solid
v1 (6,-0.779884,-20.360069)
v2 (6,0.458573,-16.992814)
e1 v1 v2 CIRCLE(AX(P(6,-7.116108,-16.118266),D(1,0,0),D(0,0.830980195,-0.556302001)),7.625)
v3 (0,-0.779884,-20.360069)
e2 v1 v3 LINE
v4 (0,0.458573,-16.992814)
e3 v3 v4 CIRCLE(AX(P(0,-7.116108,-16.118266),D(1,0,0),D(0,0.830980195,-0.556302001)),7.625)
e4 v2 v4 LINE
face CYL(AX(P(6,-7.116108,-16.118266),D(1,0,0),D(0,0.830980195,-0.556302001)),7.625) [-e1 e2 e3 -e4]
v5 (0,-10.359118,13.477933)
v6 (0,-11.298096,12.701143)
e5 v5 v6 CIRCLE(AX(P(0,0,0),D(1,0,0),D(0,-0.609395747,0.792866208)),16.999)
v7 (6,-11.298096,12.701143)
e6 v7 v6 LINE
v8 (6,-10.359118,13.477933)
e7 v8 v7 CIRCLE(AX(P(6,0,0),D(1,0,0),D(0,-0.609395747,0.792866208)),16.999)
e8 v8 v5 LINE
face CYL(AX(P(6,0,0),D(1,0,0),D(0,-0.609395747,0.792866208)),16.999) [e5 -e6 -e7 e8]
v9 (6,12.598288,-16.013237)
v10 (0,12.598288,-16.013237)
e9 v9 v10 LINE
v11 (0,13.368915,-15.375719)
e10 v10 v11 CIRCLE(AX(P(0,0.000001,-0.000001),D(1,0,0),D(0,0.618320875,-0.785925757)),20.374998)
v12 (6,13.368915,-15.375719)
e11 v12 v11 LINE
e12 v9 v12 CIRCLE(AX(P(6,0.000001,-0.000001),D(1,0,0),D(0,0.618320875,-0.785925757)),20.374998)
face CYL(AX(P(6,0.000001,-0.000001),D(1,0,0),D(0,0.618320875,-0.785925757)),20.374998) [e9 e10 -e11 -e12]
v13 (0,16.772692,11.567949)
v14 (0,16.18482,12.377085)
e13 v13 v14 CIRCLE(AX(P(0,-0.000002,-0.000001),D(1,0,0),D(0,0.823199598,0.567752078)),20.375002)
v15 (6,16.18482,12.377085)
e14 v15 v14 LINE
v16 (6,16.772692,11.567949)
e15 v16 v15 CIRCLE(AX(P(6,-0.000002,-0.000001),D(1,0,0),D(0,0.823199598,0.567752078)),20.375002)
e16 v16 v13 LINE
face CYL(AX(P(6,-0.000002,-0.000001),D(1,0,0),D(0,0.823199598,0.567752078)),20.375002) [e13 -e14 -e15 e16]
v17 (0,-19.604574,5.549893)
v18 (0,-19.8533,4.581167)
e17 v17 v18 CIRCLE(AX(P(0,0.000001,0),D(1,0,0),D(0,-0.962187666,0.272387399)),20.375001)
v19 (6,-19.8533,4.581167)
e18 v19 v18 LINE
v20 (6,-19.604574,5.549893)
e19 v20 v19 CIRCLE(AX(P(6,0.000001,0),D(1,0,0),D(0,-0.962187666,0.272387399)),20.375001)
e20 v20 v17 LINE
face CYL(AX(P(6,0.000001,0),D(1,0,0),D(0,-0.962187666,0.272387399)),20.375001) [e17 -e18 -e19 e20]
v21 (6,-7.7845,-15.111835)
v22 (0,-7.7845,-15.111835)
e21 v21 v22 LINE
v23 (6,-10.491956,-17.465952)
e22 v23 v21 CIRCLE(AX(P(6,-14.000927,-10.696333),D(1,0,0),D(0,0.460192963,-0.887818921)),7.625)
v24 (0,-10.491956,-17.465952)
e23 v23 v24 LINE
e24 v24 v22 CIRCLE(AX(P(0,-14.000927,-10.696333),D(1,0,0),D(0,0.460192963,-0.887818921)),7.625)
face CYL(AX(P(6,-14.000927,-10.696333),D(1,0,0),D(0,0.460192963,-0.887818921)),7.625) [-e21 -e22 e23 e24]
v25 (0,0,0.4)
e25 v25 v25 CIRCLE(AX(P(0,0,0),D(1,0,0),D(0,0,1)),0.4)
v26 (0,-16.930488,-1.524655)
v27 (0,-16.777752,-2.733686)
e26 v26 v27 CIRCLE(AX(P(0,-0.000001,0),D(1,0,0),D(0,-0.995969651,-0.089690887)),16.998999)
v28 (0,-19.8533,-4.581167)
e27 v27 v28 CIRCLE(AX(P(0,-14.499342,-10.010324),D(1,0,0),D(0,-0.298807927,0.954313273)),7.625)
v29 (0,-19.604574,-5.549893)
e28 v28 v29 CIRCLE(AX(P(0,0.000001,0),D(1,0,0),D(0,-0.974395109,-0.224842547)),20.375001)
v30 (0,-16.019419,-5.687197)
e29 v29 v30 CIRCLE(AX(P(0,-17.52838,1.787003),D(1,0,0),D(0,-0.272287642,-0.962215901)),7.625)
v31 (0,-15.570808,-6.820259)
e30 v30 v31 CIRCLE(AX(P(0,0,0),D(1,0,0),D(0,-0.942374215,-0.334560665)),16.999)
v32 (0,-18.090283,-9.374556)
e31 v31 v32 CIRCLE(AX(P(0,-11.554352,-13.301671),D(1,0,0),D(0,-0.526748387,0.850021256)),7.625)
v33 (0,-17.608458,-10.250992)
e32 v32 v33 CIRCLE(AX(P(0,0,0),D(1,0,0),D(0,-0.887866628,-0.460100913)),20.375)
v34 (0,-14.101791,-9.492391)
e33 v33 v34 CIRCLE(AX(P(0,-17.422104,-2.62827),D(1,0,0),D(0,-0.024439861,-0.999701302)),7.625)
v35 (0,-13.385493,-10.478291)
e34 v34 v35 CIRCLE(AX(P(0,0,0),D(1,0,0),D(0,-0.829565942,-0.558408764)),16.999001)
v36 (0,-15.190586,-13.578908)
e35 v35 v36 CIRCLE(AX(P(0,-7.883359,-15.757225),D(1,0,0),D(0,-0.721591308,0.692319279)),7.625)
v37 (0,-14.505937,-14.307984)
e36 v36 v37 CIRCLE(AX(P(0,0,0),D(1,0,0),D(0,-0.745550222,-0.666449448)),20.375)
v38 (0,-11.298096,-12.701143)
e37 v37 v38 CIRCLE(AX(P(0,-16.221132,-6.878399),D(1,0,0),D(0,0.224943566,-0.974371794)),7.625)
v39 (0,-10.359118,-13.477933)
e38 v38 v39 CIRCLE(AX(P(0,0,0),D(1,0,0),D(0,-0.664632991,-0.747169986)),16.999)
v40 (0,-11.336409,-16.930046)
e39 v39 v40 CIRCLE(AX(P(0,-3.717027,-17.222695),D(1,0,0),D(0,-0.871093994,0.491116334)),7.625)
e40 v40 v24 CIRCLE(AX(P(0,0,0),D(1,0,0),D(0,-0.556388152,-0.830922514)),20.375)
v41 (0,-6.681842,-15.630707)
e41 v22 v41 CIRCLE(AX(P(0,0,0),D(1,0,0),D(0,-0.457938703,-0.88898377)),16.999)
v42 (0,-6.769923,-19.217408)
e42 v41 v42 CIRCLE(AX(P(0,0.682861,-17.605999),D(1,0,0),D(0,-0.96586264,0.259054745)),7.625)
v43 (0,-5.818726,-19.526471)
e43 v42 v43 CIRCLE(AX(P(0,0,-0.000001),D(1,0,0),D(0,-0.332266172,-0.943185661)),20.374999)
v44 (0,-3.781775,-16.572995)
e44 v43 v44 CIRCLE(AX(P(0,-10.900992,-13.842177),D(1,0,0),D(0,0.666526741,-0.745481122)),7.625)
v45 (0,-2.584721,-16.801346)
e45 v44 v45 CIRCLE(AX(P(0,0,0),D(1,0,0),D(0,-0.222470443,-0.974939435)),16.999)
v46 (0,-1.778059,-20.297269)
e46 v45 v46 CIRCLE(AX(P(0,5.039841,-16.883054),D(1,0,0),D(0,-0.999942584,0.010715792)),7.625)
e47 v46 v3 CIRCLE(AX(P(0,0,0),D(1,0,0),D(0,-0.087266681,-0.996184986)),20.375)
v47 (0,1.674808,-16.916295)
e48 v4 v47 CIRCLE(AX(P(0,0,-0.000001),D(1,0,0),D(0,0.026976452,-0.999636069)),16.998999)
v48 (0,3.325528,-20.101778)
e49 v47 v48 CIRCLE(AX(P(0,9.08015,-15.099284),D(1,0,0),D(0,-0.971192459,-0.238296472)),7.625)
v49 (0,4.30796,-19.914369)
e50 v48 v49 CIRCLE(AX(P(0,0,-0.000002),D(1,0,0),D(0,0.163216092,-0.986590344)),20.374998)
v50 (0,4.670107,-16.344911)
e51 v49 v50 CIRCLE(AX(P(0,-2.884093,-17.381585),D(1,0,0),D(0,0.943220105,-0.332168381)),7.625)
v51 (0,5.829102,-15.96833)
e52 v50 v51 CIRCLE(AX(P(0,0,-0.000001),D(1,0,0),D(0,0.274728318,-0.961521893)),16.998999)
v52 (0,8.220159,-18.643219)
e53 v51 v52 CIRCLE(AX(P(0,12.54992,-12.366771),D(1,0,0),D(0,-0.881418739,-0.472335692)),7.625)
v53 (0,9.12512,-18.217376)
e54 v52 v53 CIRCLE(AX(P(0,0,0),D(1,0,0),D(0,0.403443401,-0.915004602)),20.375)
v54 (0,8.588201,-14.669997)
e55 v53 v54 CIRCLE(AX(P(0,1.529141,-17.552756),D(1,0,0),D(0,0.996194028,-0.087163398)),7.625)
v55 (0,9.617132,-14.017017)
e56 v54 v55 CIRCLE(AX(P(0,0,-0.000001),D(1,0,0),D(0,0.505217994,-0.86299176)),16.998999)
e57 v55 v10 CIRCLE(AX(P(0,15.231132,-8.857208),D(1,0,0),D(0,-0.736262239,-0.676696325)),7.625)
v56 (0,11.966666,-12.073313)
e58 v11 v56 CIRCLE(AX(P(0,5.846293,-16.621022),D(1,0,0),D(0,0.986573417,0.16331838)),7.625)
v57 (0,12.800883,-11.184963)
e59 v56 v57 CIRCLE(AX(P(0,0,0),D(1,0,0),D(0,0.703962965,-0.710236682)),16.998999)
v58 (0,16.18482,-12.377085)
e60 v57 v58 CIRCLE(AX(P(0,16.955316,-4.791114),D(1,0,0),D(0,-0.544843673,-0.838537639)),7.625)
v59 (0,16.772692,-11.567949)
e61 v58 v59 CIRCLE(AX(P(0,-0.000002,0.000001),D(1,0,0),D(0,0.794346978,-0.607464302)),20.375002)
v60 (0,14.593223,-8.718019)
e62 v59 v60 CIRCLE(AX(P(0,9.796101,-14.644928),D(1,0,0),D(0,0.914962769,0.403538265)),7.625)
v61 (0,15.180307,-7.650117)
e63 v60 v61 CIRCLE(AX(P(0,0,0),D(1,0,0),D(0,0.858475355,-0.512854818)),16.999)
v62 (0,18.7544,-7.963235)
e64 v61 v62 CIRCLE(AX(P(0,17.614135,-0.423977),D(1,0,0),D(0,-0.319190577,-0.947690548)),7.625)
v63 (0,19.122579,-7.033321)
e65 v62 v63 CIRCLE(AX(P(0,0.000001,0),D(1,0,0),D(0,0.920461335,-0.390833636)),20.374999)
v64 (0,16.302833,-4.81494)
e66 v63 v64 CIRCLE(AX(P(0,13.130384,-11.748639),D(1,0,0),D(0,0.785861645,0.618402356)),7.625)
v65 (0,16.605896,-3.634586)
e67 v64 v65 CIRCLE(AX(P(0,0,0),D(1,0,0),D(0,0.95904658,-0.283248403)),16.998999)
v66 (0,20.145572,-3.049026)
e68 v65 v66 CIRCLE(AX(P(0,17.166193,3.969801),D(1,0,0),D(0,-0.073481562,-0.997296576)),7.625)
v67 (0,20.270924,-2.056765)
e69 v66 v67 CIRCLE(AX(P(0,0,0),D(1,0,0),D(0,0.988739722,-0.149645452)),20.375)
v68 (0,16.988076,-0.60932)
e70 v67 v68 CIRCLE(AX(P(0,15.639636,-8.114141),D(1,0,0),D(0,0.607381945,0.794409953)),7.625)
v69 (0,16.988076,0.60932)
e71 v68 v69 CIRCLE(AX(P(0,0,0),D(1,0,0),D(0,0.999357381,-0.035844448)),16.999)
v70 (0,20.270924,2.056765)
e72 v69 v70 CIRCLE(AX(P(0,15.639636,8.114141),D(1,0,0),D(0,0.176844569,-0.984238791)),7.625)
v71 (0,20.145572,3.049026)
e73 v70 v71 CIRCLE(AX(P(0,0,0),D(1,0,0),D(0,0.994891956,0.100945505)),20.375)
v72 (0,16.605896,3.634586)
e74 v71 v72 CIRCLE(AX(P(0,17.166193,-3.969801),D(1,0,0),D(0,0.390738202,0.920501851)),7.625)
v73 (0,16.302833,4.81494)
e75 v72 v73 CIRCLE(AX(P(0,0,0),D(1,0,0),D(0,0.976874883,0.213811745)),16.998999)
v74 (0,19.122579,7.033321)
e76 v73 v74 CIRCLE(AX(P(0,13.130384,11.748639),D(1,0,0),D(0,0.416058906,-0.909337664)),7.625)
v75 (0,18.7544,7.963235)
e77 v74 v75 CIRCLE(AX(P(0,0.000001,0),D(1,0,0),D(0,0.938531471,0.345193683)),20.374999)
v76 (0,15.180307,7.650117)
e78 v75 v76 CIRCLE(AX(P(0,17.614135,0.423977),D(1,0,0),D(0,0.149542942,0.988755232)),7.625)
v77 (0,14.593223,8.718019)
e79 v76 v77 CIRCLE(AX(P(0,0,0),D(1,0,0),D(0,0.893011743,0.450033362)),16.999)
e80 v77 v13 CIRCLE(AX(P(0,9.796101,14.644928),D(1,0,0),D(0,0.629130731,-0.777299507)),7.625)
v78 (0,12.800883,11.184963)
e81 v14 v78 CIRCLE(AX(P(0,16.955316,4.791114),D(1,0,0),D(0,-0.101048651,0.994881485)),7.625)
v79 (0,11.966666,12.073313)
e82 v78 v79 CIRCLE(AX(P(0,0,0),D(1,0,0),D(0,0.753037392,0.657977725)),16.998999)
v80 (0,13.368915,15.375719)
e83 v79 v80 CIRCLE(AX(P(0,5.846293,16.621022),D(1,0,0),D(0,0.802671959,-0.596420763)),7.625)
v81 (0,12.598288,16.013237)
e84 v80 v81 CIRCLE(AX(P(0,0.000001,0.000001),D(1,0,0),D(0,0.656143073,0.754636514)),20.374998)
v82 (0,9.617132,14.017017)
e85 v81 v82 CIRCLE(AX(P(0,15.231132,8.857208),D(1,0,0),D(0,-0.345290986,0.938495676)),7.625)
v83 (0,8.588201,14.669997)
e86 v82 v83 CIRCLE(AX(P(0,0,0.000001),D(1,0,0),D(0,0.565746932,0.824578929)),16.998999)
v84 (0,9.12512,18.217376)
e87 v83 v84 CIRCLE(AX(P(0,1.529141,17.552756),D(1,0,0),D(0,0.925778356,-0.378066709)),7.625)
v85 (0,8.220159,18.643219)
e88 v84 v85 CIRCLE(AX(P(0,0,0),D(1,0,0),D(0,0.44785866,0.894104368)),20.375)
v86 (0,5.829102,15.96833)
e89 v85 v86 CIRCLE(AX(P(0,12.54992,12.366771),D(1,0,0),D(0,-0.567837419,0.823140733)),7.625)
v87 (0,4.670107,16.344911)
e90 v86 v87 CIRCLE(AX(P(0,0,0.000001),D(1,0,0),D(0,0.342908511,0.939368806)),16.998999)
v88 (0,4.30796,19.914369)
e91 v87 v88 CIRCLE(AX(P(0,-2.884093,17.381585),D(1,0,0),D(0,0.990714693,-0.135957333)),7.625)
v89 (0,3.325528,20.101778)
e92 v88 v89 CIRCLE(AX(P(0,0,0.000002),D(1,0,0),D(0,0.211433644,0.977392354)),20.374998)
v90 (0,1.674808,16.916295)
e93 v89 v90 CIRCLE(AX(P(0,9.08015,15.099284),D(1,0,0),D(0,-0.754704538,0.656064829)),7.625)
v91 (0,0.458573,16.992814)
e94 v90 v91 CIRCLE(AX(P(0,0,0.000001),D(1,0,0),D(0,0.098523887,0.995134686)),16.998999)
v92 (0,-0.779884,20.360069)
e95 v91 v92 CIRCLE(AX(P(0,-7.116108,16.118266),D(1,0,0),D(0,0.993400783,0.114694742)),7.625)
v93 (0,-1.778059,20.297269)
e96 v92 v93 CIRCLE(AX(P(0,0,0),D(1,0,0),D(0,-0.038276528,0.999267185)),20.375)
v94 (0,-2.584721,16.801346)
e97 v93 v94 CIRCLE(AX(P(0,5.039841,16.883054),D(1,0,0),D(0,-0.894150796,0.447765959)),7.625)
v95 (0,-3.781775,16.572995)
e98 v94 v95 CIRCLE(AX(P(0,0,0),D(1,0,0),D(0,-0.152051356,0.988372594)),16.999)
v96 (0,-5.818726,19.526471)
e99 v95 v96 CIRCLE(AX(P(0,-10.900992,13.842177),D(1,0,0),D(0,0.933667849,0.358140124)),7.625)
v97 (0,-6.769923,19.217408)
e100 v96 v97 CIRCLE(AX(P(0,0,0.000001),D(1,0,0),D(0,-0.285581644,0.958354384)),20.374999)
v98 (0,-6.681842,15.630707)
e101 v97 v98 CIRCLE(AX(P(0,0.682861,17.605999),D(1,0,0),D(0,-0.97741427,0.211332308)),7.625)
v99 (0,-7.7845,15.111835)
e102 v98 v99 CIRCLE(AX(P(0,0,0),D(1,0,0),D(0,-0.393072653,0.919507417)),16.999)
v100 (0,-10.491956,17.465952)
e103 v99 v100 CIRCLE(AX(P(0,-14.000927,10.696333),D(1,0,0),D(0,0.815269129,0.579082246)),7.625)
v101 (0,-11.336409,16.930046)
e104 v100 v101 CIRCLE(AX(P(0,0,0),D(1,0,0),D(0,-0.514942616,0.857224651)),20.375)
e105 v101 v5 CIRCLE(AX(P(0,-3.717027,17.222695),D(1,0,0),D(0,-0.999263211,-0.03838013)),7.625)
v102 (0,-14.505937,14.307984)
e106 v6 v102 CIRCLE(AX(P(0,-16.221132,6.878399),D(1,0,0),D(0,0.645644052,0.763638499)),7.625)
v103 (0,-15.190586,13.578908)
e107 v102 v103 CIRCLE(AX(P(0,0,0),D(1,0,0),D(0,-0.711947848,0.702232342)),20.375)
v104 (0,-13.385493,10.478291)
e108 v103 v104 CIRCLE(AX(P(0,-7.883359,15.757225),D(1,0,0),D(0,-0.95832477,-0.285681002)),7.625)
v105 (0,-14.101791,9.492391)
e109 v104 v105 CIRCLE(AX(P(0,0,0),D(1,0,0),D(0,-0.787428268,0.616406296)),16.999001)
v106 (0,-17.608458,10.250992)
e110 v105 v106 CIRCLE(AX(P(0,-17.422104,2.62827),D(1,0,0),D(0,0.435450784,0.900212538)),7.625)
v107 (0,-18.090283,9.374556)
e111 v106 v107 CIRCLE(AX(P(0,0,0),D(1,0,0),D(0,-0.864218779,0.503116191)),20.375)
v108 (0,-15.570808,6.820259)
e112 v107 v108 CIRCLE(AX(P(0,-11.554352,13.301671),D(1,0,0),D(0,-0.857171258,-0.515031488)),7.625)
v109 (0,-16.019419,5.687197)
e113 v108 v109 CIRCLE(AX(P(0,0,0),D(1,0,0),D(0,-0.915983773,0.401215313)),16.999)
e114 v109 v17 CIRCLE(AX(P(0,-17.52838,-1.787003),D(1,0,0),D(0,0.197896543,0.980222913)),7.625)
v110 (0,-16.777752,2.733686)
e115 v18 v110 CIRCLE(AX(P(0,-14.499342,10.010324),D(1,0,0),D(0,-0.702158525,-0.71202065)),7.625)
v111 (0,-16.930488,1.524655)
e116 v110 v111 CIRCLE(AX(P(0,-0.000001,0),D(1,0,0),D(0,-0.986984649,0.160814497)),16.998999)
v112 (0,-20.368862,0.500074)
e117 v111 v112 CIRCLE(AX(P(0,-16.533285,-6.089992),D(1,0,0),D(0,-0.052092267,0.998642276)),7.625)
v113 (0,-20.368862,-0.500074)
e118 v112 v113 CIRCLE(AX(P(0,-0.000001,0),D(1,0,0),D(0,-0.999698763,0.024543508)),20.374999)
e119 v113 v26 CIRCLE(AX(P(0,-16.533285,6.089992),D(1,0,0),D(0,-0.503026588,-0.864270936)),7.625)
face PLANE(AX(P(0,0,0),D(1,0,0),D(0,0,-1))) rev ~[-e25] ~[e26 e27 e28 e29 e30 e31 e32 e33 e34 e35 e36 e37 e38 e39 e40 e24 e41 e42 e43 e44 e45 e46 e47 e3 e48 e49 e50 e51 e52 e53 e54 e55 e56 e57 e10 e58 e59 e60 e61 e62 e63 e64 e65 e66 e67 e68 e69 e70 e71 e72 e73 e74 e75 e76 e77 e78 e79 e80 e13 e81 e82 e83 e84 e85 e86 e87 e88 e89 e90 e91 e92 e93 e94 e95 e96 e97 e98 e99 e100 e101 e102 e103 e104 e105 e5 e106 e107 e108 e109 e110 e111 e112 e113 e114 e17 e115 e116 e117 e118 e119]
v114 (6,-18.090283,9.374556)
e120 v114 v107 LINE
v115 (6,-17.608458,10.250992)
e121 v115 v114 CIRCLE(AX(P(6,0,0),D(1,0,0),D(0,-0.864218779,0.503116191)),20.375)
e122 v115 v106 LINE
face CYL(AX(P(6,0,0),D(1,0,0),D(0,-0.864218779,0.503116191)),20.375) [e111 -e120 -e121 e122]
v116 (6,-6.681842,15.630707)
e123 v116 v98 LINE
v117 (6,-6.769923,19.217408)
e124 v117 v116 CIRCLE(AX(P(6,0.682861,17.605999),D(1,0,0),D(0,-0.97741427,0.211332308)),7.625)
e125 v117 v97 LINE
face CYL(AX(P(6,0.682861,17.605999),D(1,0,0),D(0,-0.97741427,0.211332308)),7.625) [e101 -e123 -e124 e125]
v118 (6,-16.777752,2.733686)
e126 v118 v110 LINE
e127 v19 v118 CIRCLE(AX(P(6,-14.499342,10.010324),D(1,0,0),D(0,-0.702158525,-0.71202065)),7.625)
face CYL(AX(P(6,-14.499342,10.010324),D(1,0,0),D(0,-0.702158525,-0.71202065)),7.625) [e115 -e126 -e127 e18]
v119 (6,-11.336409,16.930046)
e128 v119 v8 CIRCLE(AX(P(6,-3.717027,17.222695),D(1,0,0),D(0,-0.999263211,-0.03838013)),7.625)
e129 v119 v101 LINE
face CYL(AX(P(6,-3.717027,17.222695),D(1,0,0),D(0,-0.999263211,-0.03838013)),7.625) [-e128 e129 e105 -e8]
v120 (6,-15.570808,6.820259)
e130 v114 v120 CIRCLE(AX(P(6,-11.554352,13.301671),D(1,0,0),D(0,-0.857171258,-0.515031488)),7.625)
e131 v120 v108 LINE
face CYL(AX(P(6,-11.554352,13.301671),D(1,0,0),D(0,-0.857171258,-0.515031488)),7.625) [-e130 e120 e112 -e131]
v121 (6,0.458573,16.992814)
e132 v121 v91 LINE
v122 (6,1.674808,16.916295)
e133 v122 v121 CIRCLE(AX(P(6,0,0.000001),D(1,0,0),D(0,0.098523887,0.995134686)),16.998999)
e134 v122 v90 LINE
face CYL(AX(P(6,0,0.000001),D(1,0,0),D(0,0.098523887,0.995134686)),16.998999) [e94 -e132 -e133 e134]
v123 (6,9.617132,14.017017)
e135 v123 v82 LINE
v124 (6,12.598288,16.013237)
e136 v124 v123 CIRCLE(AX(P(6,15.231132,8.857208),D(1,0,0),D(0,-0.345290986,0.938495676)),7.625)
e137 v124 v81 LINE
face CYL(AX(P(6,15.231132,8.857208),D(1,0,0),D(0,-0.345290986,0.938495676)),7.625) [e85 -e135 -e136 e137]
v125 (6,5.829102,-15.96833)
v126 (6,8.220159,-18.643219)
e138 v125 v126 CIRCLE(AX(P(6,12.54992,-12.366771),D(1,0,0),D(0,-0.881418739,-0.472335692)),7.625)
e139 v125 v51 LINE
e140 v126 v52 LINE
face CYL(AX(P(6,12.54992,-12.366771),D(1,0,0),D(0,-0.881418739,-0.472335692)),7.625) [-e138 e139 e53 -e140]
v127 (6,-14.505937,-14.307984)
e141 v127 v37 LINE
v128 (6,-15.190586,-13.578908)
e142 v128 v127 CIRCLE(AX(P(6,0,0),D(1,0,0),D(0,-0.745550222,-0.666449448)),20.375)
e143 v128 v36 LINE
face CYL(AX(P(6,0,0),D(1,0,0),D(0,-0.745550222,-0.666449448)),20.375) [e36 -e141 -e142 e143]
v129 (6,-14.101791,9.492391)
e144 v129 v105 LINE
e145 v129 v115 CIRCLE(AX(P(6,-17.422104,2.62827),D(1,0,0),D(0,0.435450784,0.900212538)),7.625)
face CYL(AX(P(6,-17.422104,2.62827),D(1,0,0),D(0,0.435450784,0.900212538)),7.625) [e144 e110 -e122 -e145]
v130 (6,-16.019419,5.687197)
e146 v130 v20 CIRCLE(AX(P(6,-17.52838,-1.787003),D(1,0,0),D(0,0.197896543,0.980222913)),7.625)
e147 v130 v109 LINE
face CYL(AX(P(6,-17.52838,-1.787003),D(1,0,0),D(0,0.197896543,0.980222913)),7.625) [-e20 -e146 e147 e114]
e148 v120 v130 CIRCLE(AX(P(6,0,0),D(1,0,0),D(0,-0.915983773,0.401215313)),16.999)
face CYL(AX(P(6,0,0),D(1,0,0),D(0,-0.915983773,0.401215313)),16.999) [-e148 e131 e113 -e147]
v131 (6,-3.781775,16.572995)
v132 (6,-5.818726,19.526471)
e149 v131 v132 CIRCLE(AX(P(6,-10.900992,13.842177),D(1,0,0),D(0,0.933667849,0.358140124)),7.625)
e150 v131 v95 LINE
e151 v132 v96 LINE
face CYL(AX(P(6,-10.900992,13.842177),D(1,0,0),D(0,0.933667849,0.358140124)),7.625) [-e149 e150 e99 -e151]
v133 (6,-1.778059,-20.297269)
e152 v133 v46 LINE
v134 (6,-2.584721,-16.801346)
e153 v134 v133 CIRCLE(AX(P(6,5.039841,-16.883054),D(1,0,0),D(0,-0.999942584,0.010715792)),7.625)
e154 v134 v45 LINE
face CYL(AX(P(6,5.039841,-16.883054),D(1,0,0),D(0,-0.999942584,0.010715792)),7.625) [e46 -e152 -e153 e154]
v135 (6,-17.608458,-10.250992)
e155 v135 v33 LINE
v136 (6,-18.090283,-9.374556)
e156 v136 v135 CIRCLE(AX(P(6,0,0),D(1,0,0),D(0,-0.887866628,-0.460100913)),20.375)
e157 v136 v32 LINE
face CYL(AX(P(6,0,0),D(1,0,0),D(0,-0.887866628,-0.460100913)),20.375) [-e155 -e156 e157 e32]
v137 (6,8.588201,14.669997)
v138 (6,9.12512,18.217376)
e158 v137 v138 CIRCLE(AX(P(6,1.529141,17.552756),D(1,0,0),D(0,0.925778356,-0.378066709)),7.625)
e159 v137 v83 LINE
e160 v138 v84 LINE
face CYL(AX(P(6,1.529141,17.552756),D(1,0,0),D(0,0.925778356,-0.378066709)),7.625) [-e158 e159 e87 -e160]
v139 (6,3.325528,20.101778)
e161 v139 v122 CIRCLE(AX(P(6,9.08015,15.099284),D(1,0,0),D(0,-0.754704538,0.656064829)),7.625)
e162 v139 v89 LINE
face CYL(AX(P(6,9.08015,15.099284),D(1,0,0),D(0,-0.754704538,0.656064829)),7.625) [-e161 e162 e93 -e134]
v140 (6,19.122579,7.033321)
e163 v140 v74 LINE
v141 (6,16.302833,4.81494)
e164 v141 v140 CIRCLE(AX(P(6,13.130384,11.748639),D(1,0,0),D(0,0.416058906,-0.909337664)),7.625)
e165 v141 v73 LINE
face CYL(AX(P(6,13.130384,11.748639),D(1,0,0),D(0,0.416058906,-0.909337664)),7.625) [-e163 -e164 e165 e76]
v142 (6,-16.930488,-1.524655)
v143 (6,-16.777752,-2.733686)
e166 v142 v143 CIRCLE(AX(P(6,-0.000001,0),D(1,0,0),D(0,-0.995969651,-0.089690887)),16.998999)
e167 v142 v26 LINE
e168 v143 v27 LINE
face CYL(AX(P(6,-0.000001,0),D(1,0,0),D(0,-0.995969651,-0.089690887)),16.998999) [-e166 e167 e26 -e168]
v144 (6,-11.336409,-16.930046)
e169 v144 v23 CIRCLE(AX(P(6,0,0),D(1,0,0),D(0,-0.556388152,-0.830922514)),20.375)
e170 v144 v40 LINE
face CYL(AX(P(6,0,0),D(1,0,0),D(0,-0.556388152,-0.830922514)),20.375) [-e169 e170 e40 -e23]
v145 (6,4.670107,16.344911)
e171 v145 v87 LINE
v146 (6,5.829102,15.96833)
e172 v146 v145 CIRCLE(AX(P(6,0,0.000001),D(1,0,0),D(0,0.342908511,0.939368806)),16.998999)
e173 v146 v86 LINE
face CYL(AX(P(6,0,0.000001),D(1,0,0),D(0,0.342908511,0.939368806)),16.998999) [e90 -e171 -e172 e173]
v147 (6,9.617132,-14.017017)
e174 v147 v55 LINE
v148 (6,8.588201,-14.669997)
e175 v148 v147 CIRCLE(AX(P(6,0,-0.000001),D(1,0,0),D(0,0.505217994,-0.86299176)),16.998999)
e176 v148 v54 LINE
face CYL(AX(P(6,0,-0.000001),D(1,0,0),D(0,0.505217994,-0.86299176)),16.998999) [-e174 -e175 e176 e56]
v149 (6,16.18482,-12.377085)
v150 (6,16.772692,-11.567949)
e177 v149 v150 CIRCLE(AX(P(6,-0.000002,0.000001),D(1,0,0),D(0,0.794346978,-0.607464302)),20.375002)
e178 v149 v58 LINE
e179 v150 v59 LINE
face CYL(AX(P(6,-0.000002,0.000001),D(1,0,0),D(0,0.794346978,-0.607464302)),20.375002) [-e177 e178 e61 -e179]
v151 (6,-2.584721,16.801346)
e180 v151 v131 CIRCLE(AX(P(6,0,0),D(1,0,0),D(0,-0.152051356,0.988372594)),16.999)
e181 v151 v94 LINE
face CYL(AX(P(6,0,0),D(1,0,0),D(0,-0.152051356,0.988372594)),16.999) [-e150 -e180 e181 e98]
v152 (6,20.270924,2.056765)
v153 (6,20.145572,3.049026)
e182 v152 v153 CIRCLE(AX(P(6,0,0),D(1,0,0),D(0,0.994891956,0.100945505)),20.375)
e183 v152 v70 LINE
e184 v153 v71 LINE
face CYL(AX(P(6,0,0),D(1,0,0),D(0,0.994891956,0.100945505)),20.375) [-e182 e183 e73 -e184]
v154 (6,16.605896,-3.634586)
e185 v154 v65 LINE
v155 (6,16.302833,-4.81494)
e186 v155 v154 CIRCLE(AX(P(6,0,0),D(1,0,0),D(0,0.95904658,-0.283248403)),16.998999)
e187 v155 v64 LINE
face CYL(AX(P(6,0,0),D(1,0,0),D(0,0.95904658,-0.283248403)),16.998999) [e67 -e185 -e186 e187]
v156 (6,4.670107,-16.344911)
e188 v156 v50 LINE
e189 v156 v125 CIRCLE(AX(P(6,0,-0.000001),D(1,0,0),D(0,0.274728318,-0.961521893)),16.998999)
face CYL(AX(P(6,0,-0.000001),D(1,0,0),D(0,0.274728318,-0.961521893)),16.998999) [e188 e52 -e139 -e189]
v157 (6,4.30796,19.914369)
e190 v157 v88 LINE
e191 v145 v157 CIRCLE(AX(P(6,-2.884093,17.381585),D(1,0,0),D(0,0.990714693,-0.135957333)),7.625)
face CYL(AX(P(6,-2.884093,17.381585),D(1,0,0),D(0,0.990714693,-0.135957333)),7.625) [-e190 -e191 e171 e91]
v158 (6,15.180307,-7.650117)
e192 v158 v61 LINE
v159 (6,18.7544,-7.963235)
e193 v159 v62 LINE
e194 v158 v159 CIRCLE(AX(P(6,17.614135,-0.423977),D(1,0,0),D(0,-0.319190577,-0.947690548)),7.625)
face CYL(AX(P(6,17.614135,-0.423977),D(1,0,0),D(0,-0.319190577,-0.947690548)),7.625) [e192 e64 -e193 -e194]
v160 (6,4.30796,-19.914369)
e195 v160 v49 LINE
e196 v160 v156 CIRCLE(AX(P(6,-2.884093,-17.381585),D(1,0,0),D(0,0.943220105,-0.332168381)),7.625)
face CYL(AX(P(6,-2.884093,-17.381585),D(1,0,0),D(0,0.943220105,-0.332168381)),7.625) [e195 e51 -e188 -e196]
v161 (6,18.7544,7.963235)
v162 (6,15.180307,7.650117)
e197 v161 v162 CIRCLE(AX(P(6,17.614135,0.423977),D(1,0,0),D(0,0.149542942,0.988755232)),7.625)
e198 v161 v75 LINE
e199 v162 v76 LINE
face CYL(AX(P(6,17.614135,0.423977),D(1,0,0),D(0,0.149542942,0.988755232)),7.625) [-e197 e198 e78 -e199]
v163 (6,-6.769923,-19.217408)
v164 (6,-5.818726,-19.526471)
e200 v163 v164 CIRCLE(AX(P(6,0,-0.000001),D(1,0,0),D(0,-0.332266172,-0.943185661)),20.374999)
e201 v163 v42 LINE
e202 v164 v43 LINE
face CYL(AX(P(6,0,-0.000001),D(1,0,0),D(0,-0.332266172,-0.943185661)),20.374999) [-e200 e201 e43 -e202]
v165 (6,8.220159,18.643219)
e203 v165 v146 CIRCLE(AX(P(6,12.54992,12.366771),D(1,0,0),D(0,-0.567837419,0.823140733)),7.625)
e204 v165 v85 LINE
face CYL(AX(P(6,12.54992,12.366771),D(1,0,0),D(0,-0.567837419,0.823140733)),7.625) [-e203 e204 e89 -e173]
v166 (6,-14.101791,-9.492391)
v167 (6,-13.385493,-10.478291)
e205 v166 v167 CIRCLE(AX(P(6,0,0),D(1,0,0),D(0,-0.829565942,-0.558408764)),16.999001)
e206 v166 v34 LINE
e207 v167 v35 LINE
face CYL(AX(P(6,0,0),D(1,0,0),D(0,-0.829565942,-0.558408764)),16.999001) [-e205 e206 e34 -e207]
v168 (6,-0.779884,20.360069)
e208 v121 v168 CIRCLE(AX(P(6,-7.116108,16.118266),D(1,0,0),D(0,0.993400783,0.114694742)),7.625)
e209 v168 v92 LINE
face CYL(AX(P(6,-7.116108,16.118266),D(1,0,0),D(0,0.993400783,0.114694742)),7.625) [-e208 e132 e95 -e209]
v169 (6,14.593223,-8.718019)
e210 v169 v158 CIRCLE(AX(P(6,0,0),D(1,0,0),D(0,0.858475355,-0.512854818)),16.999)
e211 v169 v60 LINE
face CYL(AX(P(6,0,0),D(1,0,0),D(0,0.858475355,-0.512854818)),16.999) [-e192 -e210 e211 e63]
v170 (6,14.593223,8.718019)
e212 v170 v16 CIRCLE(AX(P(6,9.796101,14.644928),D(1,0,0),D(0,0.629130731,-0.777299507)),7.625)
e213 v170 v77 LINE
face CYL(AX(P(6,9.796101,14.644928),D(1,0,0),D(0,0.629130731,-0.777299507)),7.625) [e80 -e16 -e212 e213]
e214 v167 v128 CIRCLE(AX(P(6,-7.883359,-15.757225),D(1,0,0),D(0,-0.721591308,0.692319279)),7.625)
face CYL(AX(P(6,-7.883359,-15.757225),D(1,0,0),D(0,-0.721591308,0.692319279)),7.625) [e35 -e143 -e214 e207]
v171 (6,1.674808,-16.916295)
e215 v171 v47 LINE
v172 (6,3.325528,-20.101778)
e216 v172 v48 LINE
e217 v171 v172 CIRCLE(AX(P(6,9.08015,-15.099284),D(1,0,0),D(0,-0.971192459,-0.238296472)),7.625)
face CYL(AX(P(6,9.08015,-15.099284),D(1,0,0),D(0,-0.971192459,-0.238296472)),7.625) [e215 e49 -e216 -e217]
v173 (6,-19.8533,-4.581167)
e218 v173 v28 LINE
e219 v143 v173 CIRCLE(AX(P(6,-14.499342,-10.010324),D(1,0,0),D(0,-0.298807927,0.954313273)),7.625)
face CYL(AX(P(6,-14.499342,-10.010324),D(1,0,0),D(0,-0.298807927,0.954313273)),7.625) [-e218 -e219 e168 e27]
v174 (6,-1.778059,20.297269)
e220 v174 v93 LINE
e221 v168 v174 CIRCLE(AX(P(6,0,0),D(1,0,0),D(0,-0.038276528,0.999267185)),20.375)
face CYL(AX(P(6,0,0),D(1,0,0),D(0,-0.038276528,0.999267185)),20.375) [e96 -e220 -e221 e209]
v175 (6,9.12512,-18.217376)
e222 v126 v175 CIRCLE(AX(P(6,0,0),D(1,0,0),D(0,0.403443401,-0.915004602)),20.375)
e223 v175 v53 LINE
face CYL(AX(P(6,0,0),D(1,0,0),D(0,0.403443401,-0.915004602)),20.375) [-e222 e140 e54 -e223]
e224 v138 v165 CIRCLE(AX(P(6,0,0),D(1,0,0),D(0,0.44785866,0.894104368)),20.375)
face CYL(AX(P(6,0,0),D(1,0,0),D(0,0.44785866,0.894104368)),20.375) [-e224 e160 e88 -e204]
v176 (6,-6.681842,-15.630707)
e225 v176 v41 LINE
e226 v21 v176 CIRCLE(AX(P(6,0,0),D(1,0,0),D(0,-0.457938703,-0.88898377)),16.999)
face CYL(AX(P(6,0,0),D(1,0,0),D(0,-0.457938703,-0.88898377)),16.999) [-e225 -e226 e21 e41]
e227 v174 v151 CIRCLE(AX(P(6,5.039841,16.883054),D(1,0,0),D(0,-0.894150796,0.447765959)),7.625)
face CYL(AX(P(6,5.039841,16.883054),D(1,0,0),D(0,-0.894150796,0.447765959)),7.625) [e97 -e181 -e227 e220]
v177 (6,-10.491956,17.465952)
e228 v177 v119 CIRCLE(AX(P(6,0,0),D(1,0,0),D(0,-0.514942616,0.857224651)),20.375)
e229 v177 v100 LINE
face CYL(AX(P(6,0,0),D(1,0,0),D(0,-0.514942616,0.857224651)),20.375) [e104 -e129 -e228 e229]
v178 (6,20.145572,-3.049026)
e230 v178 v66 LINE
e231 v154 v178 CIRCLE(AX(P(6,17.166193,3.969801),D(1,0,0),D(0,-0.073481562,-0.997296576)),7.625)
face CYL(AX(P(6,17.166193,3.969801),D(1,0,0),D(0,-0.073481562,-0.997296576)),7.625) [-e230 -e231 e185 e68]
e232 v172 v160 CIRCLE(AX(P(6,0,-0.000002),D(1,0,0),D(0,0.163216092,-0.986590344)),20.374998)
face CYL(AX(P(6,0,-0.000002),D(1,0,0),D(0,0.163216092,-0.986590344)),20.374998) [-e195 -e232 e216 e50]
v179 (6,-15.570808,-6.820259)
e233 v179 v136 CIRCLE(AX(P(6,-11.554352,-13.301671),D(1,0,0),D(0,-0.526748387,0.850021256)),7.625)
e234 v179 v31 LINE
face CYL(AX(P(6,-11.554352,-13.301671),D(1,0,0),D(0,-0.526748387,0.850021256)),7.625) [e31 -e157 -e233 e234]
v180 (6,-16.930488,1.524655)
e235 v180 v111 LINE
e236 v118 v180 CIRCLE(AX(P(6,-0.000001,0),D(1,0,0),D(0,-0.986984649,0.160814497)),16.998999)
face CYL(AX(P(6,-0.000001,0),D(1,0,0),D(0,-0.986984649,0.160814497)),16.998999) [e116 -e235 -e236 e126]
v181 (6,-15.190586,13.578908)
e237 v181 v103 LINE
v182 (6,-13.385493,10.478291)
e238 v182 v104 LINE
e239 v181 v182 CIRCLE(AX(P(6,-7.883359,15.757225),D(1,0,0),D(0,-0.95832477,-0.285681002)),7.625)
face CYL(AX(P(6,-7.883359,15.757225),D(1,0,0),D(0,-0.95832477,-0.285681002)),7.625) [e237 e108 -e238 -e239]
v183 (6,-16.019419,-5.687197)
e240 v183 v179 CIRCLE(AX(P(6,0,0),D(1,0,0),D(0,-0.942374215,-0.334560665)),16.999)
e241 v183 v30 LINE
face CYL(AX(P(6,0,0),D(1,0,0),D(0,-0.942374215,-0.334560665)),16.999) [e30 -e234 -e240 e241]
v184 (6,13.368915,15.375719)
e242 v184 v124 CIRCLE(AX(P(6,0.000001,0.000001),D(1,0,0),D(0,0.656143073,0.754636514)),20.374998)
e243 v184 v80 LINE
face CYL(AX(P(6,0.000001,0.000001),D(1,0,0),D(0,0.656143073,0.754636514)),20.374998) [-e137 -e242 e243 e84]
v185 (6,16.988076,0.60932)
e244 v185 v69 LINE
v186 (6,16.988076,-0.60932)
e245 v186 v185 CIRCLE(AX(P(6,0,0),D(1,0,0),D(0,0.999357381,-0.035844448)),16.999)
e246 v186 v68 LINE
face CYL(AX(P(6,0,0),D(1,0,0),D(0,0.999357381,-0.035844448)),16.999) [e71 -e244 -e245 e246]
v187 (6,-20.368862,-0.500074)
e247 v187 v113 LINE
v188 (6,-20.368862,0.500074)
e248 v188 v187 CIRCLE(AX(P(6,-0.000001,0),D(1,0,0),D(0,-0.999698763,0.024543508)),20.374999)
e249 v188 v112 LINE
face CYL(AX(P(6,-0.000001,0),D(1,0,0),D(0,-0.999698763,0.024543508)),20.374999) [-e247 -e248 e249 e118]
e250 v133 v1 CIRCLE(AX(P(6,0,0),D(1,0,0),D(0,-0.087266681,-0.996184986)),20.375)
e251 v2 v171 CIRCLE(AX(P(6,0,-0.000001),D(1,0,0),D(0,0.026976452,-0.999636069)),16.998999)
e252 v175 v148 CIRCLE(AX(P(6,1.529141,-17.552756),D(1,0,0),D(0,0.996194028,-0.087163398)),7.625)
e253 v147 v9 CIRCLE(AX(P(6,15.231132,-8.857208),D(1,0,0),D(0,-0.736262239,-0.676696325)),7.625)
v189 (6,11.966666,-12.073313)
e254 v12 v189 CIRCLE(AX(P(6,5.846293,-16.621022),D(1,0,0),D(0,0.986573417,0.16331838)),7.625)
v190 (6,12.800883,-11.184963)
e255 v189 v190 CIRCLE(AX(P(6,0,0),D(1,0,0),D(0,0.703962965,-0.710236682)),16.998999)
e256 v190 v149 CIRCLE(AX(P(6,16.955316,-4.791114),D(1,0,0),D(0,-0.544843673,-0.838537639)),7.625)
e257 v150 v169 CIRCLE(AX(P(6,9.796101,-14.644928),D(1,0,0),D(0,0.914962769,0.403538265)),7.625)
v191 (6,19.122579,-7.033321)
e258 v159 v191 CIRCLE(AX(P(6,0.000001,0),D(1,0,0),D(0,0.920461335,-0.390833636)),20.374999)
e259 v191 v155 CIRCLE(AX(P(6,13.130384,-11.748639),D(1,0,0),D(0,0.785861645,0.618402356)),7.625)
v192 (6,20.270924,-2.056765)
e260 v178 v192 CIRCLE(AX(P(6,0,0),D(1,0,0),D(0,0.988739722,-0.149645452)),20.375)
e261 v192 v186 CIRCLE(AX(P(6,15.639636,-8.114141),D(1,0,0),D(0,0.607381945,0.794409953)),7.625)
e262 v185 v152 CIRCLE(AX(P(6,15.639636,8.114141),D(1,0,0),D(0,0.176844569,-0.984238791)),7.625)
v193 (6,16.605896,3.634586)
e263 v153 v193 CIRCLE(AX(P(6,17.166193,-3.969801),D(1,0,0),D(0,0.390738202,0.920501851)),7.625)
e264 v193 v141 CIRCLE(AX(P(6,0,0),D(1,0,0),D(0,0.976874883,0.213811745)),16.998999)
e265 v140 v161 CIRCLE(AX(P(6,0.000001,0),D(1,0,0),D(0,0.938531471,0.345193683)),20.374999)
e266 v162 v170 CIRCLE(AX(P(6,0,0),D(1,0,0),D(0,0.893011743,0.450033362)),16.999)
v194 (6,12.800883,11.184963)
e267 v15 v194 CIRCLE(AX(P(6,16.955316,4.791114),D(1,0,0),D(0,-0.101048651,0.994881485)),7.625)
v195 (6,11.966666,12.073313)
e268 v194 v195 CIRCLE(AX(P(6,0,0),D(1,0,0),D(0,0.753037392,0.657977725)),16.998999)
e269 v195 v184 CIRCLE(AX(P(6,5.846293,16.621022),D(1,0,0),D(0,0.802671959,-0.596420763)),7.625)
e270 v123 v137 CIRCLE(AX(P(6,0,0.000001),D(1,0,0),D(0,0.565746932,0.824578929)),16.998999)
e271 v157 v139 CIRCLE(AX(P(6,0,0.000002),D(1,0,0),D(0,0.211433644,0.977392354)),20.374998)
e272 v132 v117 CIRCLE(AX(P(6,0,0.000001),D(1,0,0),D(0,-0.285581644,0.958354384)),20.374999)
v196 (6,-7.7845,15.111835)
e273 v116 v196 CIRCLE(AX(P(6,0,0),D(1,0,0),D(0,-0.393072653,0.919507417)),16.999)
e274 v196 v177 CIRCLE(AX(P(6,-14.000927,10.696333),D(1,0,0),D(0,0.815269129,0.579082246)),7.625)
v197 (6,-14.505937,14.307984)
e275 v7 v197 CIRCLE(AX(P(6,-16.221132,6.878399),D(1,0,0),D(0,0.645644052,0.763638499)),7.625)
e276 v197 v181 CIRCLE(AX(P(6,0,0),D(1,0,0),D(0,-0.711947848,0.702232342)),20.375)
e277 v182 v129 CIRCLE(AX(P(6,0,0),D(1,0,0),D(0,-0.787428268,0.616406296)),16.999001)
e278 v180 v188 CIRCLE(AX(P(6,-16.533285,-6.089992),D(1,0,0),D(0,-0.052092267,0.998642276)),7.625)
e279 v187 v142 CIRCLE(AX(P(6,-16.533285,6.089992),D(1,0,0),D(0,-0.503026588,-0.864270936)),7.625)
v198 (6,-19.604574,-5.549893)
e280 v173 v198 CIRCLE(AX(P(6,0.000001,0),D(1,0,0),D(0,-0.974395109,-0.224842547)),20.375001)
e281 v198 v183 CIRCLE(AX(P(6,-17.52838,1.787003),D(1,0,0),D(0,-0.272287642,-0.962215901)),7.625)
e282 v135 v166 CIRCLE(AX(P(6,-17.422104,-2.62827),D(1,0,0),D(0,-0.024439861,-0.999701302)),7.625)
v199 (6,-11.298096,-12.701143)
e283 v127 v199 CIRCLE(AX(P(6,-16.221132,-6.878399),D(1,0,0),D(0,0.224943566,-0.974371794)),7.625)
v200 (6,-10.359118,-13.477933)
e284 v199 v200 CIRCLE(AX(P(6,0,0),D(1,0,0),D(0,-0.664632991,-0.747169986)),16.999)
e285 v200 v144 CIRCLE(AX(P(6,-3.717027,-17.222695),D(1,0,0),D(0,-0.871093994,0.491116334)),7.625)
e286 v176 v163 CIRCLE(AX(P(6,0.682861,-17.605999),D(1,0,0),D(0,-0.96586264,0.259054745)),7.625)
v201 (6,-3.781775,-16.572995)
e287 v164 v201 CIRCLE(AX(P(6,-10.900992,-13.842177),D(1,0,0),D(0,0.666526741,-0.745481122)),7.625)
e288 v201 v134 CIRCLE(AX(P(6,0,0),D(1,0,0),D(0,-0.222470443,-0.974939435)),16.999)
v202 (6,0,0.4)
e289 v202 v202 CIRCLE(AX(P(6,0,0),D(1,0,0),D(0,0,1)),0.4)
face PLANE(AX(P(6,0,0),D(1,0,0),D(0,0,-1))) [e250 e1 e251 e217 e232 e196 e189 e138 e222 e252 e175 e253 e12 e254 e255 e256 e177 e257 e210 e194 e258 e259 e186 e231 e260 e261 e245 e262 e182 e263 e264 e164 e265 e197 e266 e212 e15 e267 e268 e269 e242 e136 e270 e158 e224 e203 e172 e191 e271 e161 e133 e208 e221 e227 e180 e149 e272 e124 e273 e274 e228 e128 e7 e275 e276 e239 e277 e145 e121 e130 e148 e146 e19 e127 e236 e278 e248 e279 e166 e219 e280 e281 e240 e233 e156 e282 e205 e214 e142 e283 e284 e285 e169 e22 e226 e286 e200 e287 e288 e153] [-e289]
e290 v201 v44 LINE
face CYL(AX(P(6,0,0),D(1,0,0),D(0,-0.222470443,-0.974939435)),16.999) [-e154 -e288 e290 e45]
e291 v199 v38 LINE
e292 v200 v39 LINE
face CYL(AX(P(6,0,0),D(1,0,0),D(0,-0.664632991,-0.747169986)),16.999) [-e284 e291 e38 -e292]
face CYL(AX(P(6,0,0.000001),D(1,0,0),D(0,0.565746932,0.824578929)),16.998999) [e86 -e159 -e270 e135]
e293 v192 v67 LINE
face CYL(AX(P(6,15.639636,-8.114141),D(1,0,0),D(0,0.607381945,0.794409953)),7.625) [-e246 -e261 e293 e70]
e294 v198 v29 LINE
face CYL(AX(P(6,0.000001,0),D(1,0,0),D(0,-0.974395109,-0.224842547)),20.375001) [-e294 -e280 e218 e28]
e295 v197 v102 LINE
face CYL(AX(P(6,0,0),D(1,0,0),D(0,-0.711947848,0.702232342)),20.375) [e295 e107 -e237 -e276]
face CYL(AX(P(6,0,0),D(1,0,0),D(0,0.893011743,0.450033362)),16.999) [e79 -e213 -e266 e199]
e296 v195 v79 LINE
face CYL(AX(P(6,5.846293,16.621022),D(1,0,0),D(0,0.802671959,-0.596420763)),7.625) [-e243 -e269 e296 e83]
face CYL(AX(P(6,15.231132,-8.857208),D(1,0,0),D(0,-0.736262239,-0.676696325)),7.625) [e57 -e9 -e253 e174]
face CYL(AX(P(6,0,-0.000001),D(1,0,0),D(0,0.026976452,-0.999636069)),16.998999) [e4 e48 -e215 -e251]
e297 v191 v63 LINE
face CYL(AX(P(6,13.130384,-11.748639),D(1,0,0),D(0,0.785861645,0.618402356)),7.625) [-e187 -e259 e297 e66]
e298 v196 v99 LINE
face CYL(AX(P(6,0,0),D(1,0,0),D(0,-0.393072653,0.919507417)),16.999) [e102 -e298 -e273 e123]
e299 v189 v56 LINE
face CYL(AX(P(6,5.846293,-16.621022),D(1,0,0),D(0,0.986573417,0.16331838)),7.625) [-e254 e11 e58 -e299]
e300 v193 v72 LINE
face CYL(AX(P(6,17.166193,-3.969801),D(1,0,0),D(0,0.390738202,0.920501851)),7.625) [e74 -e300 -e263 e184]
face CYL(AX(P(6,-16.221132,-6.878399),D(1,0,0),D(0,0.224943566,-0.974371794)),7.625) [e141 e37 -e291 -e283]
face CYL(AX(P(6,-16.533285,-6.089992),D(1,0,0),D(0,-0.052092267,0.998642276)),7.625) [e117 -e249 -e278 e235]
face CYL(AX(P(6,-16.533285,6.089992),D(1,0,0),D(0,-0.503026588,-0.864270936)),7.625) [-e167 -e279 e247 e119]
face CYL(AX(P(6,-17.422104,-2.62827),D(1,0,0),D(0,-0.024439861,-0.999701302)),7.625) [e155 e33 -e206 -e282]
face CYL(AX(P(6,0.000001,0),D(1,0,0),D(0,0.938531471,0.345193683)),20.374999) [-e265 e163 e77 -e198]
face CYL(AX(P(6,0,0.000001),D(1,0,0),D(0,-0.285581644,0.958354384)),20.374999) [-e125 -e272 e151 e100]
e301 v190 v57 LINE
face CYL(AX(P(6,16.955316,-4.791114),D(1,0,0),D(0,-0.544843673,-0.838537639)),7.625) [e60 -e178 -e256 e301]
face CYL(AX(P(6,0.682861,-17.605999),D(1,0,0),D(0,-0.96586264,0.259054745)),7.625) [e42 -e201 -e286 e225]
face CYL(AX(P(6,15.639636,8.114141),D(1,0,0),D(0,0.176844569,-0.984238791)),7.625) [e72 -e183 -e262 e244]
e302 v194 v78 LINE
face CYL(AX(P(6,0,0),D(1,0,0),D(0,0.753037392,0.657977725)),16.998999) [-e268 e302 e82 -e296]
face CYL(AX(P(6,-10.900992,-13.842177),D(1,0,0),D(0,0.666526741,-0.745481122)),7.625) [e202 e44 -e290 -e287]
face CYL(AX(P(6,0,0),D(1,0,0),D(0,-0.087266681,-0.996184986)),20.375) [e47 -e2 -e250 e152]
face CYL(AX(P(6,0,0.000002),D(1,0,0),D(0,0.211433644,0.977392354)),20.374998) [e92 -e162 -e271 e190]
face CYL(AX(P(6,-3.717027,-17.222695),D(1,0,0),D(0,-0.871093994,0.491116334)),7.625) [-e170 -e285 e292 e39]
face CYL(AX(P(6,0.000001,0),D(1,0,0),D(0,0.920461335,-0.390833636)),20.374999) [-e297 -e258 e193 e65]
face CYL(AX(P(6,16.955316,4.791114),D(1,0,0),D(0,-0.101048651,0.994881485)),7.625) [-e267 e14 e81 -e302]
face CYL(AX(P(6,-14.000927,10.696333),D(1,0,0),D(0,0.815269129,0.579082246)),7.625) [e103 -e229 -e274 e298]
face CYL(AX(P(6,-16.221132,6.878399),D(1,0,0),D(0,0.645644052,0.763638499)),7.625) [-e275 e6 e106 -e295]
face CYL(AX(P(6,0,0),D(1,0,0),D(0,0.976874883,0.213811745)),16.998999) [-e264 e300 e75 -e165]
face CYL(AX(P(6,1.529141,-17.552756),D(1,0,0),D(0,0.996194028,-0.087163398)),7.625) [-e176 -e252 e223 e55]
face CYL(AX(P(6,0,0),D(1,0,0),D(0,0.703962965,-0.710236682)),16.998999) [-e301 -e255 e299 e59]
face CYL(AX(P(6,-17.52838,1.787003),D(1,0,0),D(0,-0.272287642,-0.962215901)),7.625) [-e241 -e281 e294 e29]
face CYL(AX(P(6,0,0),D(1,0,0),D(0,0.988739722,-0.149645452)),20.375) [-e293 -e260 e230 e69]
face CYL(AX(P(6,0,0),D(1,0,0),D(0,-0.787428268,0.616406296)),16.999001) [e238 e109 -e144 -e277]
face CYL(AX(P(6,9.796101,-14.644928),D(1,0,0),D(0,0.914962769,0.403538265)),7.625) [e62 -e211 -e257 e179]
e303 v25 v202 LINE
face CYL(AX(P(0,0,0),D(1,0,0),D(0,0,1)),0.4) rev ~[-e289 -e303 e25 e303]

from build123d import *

# Parameters (mm, degrees)
BASPROSKE_W         = 6
BASPROSKE_H         = 20.25
TOOTHCUT_DEPTH      = 30.259613805
TEETHCUTS_COUNT     = 25
TEETHCUTS_ANGLE     = 345.6
BORSKE_R            = 0.4
BORE_DEPTH          = 50.0000508
SKETCH1_R           = 0.4
BOSS_EXTRUDE1_DEPTH = 6


with BuildPart() as part:
    # BasProSke → Base-Revolve (revolve)
    with BuildSketch(Plane(origin=(0, 0, 0), x_dir=(1, 0, 0), z_dir=(0, 1, 0)), mode=Mode.PRIVATE) as base_revolve_sk:
        with Locations((3, 10.125)):
            Rectangle(BASPROSKE_W, BASPROSKE_H)
    revolve(base_revolve_sk.sketch.rotate(Axis((-10, 0, 0), (1, 0, 0)), 180), axis=Axis((-10, 0, 0), (1, 0, 0)))

    # TooCutSke → ToothCut (cut, through all)
    with BuildSketch(Plane(origin=(0, 0, 0), x_dir=(0, 0, -1), z_dir=(1, 0, 0))):
        with BuildLine():
            ThreePointArc((0.713909619, 16.858891098), (0, 16.874), (-0.713909619, 16.858891098))
            ThreePointArc((-0.713909619, 16.858891098), (-1.221902209, 18.597177626), (-2.131751691, 20.163022588))
            ThreePointArc((-2.131751691, 20.163022588), (0, 20.2754), (2.131751691, 20.163022588))
            ThreePointArc((2.131751691, 20.163022588), (1.221902209, 18.597177626), (0.713909619, 16.858891098))
        make_face()
    toothcut = extrude(amount=TOOTHCUT_DEPTH, mode=Mode.SUBTRACT)

    # TeethCuts: ToothCut ×25 about axis
    teethcuts_axis = Axis((-10, 0, 0), (1, 0, 0))
    for i in range(1, TEETHCUTS_COUNT):
        add(toothcut.rotate(teethcuts_axis, i * TEETHCUTS_ANGLE / (TEETHCUTS_COUNT - 1)), mode=Mode.SUBTRACT)

    # BorSke → Bore (cut, symmetric)
    with BuildSketch(Plane(origin=(0, 0, 0), x_dir=(0, 0, -1), z_dir=(1, 0, 0))):
        with Locations(Location((0, 0, 0), (0, 0, 180))):
            Circle(BORSKE_R)
    extrude(amount=BORE_DEPTH, both=True, mode=Mode.SUBTRACT)

    # Sketch1 → Boss-Extrude1 (add)
    with BuildSketch(Plane(origin=(6, 0, 0), x_dir=(0, 0, -1), z_dir=(1, 0, 0))):
        with BuildLine():
            ThreePointArc((7.033321313, 19.122578704), (5.755923301, 17.845039552), (4.814939591, 16.302832813))
            ThreePointArc((4.814939591, 16.302832813), (4.227479392, 16.464945156), (3.634585878, 16.605896136))
            ThreePointArc((3.634585878, 16.605896136), (3.55295933, 18.410664563), (3.049026099, 20.145571842))
            ThreePointArc((3.049026099, 20.145571842), (2.553664634, 20.214337039), (2.056764651, 20.270923614))
            ThreePointArc((2.056764651, 20.270923614), (1.137209513, 18.715844736), (0.609319757, 16.988076125))
            ThreePointArc((0.609319757, 16.988076125), (0, 16.999), (-0.609319757, 16.988076125))
            ThreePointArc((-0.609319757, 16.988076125), (-1.137209513, 18.715844736), (-2.056764651, 20.270923614))
            ThreePointArc((-2.056764651, 20.270923614), (-2.553664634, 20.214337039), (-3.049026099, 20.145571842))
            ThreePointArc((-3.049026099, 20.145571842), (-3.55295933, 18.410664563), (-3.634585878, 16.605896136))
            ThreePointArc((-3.634585878, 16.605896136), (-4.227479392, 16.464945156), (-4.814939591, 16.302832813))
            ThreePointArc((-4.814939591, 16.302832813), (-5.755923301, 17.845039552), (-7.033321313, 19.122578704))
            ThreePointArc((-7.033321313, 19.122578704), (-7.500537761, 18.9441959), (-7.963235326, 18.754399701))
            ThreePointArc((-7.963235326, 18.754399701), (-8.019882673, 16.948674626), (-7.650117116, 15.180306621))
            ThreePointArc((-7.650117116, 15.180306621), (-8.189330706, 14.896337254), (-8.718019063, 14.593222558))
            ThreePointArc((-8.718019063, 14.593222558), (-10.012971259, 15.852964904), (-11.567948531, 16.772691847))
            ThreePointArc((-11.567948531, 16.772691847), (-11.976124515, 16.48372126), (-12.37708519, 16.184819653))
            ThreePointArc((-12.37708519, 16.184819653), (-11.982887291, 14.421737129), (-11.18496336, 12.800882612))
            ThreePointArc((-11.18496336, 12.800882612), (-11.636616254, 12.391737698), (-12.073313334, 11.966666459))
            ThreePointArc((-12.073313334, 11.966666459), (-13.640867407, 12.864790167), (-15.375718999, 13.368915074))
            ThreePointArc((-15.375718999, 13.368915074), (-15.699207322, 12.987513791), (-16.013237272, 12.598287862))
            ThreePointArc((-16.013237272, 12.598287862), (-15.192963031, 10.988628849), (-14.01701722, 9.61713207))
            ThreePointArc((-14.01701722, 9.61713207), (-14.352730406, 9.108519688), (-14.669996926, 8.588200696))
            ThreePointArc((-14.669996926, 8.588200696), (-16.411657689, 9.068273351), (-18.217376494, 9.125120201))
            ThreePointArc((-18.217376494, 9.125120201), (-18.435851194, 8.675253066), (-18.643218764, 8.220159312))
            ThreePointArc((-18.643218764, 8.220159312), (-17.448409029, 6.865064605), (-15.968330338, 5.82910175))
            ThreePointArc((-15.968330338, 5.82910175), (-16.167009721, 5.252979887), (-16.344910658, 4.670106699))
            ThreePointArc((-16.344910658, 4.670106699), (-18.15124316, 4.70196357), (-19.914369225, 4.307960465))
            ThreePointArc((-19.914369225, 4.307960465), (-20.014102734, 3.817894285), (-20.101778256, 3.32552792))
            ThreePointArc((-20.101778256, 3.32552792), (-18.607507316, 2.310143104), (-16.916294533, 1.674807529))
            ThreePointArc((-16.916294533, 1.674807529), (-16.965456357, 1.067376041), (-16.992813542, 0.458572722))
            ThreePointArc((-16.992813542, 0.458572722), (-18.750319268, 0.040212124), (-20.360068898, -0.77988427))
            ThreePointArc((-20.360068898, -0.77988427), (-20.334794592, -1.279356835), (-20.297269091, -1.778058621))
            ThreePointArc((-20.297269091, -1.778058621), (-18.597427484, -2.389933184), (-16.801345729, -2.584721008))
            ThreePointArc((-16.801345729, -2.584721008), (-16.697900975, -3.185294967), (-16.572995455, -3.781775066))
            ThreePointArc((-16.572995455, -3.781775066), (-18.171243857, -4.624065996), (-19.526470563, -5.818726009))
            ThreePointArc((-19.526470563, -5.818726009), (-19.37777652, -6.29622126), (-19.21740786, -6.769923199))
            ThreePointArc((-19.21740786, -6.769923199), (-17.418802888, -6.939841181), (-15.630706582, -6.681842018))
            ThreePointArc((-15.630706582, -6.681842018), (-15.381155065, -7.237822177), (-15.111835113, -7.784500017))
            ThreePointArc((-15.111835113, -7.784500017), (-16.450402366, -8.997797045), (-17.465952269, -10.491955792))
            ThreePointArc((-17.465952269, -10.491955792), (-17.203181482, -10.917470948), (-16.930046218, -11.336408605))
            ThreePointArc((-16.930046218, -11.336408605), (-15.145690844, -11.053693433), (-13.477932654, -10.35911832))
            ThreePointArc((-13.477932654, -10.35911832), (-13.097954614, -10.835570402), (-12.701142593, -11.298096204))
            ThreePointArc((-12.701142593, -11.298096204), (-13.695921594, -12.806163413), (-14.307983958, -14.505937407))
            ThreePointArc((-14.307983958, -14.505937407), (-13.947647283, -14.852735784), (-13.578907507, -15.190585766))
            ThreePointArc((-13.578907507, -15.190585766), (-11.920919342, -14.473001475), (-10.47829065, -13.38549312))
            ThreePointArc((-10.47829065, -13.38549312), (-9.991761504, -13.752479887), (-9.492390573, -14.101791454))
            ThreePointArc((-9.492390573, -14.101791454), (-10.080875698, -15.809871436), (-10.250992395, -17.608457625))
            ThreePointArc((-10.250992395, -17.608457625), (-9.81573111, -17.854748606), (-9.374556097, -18.090282557))
            ThreePointArc((-9.374556097, -18.090282557), (-7.947112637, -16.982917606), (-6.820259107, -15.570808159))
            ThreePointArc((-6.820259107, -15.570808159), (-6.257749271, -15.805270484), (-5.687196742, -16.019419285))
            ThreePointArc((-5.687196742, -16.019419285), (-5.832411307, -17.820187093), (-5.549893279, -19.604573691))
            ThreePointArc((-5.549893279, -19.604573691), (-5.067056451, -19.734881908), (-4.581166851, -19.853300363))
            ThreePointArc((-4.581166851, -19.853300363), (-3.473959616, -18.425734565), (-2.733685602, -16.777752055))
            ThreePointArc((-2.733685602, -16.777752055), (-2.130539637, -16.864957808), (-1.524655424, -16.930488086))
            ThreePointArc((-1.524655424, -16.930488086), (-1.217475063, -18.710794856), (-0.500073957, -20.368862291))
            ThreePointArc((-0.500073957, -20.368862291), (0, -20.375), (0.500073957, -20.368862291))
            ThreePointArc((0.500073957, -20.368862291), (1.217475063, -18.710794856), (1.524655424, -16.930488086))
            ThreePointArc((1.524655424, -16.930488086), (2.130539637, -16.864957808), (2.733685602, -16.777752055))
            ThreePointArc((2.733685602, -16.777752055), (3.473959616, -18.425734565), (4.581166851, -19.853300363))
            ThreePointArc((4.581166851, -19.853300363), (5.067056451, -19.734881908), (5.549893279, -19.604573691))
            ThreePointArc((5.549893279, -19.604573691), (5.832411307, -17.820187093), (5.687196742, -16.019419285))
            ThreePointArc((5.687196742, -16.019419285), (6.257749271, -15.805270484), (6.820259107, -15.570808159))
            ThreePointArc((6.820259107, -15.570808159), (7.947112637, -16.982917606), (9.374556097, -18.090282557))
            ThreePointArc((9.374556097, -18.090282557), (9.81573111, -17.854748606), (10.250992395, -17.608457625))
            ThreePointArc((10.250992395, -17.608457625), (10.080875698, -15.809871436), (9.492390573, -14.101791454))
            ThreePointArc((9.492390573, -14.101791454), (9.991761504, -13.752479887), (10.47829065, -13.38549312))
            ThreePointArc((10.47829065, -13.38549312), (11.920919342, -14.473001475), (13.578907507, -15.190585766))
            ThreePointArc((13.578907507, -15.190585766), (13.947647283, -14.852735784), (14.307983958, -14.505937407))
            ThreePointArc((14.307983958, -14.505937407), (13.695921594, -12.806163413), (12.701142593, -11.298096204))
            ThreePointArc((12.701142593, -11.298096204), (13.097954614, -10.835570402), (13.477932654, -10.35911832))
            ThreePointArc((13.477932654, -10.35911832), (15.145690844, -11.053693433), (16.930046218, -11.336408605))
            ThreePointArc((16.930046218, -11.336408605), (17.203181482, -10.917470948), (17.465952269, -10.491955792))
            ThreePointArc((17.465952269, -10.491955792), (16.450402366, -8.997797045), (15.111835113, -7.784500017))
            ThreePointArc((15.111835113, -7.784500017), (15.381155065, -7.237822177), (15.630706582, -6.681842018))
            ThreePointArc((15.630706582, -6.681842018), (17.418802888, -6.939841181), (19.21740786, -6.769923199))
            ThreePointArc((19.21740786, -6.769923199), (19.37777652, -6.29622126), (19.526470563, -5.818726009))
            ThreePointArc((19.526470563, -5.818726009), (18.171243857, -4.624065996), (16.572995455, -3.781775066))
            ThreePointArc((16.572995455, -3.781775066), (16.697900975, -3.185294967), (16.801345729, -2.584721008))
            ThreePointArc((16.801345729, -2.584721008), (18.597427484, -2.389933184), (20.297269091, -1.778058621))
            ThreePointArc((20.297269091, -1.778058621), (20.334794592, -1.279356835), (20.360068898, -0.77988427))
            ThreePointArc((20.360068898, -0.77988427), (18.750319268, 0.040212124), (16.992813542, 0.458572722))
            ThreePointArc((16.992813542, 0.458572722), (16.965456357, 1.067376041), (16.916294533, 1.674807529))
            ThreePointArc((16.916294533, 1.674807529), (18.607507316, 2.310143104), (20.101778256, 3.32552792))
            ThreePointArc((20.101778256, 3.32552792), (20.014102734, 3.817894285), (19.914369225, 4.307960465))
            ThreePointArc((19.914369225, 4.307960465), (18.15124316, 4.70196357), (16.344910658, 4.670106699))
            ThreePointArc((16.344910658, 4.670106699), (16.167009721, 5.252979887), (15.968330338, 5.82910175))
            ThreePointArc((15.968330338, 5.82910175), (17.448409029, 6.865064605), (18.643218764, 8.220159312))
            ThreePointArc((18.643218764, 8.220159312), (18.435851194, 8.675253066), (18.217376494, 9.125120201))
            ThreePointArc((18.217376494, 9.125120201), (16.411657689, 9.068273351), (14.669996926, 8.588200696))
            ThreePointArc((14.669996926, 8.588200696), (14.352730406, 9.108519688), (14.01701722, 9.61713207))
            ThreePointArc((14.01701722, 9.61713207), (15.192963031, 10.988628849), (16.013237272, 12.598287862))
            ThreePointArc((16.013237272, 12.598287862), (15.699207322, 12.987513791), (15.375718999, 13.368915074))
            ThreePointArc((15.375718999, 13.368915074), (13.640867407, 12.864790167), (12.073313334, 11.966666459))
            ThreePointArc((12.073313334, 11.966666459), (11.636616254, 12.391737698), (11.18496336, 12.800882612))
            ThreePointArc((11.18496336, 12.800882612), (11.982887291, 14.421737129), (12.37708519, 16.184819653))
            ThreePointArc((12.37708519, 16.184819653), (11.976124515, 16.48372126), (11.567948531, 16.772691847))
            ThreePointArc((11.567948531, 16.772691847), (10.012971259, 15.852964904), (8.718019063, 14.593222558))
            ThreePointArc((8.718019063, 14.593222558), (8.189330706, 14.896337254), (7.650117116, 15.180306621))
            ThreePointArc((7.650117116, 15.180306621), (8.019882673, 16.948674626), (7.963235326, 18.754399701))
            ThreePointArc((7.963235326, 18.754399701), (7.500537761, 18.9441959), (7.033321313, 19.122578704))
        make_face()
        with Locations(Location((0, 0, 0), (0, 0, 180))):
            Circle(SKETCH1_R, mode=Mode.SUBTRACT)
    extrude(amount=-BOSS_EXTRUDE1_DEPTH)


solid = part.part
